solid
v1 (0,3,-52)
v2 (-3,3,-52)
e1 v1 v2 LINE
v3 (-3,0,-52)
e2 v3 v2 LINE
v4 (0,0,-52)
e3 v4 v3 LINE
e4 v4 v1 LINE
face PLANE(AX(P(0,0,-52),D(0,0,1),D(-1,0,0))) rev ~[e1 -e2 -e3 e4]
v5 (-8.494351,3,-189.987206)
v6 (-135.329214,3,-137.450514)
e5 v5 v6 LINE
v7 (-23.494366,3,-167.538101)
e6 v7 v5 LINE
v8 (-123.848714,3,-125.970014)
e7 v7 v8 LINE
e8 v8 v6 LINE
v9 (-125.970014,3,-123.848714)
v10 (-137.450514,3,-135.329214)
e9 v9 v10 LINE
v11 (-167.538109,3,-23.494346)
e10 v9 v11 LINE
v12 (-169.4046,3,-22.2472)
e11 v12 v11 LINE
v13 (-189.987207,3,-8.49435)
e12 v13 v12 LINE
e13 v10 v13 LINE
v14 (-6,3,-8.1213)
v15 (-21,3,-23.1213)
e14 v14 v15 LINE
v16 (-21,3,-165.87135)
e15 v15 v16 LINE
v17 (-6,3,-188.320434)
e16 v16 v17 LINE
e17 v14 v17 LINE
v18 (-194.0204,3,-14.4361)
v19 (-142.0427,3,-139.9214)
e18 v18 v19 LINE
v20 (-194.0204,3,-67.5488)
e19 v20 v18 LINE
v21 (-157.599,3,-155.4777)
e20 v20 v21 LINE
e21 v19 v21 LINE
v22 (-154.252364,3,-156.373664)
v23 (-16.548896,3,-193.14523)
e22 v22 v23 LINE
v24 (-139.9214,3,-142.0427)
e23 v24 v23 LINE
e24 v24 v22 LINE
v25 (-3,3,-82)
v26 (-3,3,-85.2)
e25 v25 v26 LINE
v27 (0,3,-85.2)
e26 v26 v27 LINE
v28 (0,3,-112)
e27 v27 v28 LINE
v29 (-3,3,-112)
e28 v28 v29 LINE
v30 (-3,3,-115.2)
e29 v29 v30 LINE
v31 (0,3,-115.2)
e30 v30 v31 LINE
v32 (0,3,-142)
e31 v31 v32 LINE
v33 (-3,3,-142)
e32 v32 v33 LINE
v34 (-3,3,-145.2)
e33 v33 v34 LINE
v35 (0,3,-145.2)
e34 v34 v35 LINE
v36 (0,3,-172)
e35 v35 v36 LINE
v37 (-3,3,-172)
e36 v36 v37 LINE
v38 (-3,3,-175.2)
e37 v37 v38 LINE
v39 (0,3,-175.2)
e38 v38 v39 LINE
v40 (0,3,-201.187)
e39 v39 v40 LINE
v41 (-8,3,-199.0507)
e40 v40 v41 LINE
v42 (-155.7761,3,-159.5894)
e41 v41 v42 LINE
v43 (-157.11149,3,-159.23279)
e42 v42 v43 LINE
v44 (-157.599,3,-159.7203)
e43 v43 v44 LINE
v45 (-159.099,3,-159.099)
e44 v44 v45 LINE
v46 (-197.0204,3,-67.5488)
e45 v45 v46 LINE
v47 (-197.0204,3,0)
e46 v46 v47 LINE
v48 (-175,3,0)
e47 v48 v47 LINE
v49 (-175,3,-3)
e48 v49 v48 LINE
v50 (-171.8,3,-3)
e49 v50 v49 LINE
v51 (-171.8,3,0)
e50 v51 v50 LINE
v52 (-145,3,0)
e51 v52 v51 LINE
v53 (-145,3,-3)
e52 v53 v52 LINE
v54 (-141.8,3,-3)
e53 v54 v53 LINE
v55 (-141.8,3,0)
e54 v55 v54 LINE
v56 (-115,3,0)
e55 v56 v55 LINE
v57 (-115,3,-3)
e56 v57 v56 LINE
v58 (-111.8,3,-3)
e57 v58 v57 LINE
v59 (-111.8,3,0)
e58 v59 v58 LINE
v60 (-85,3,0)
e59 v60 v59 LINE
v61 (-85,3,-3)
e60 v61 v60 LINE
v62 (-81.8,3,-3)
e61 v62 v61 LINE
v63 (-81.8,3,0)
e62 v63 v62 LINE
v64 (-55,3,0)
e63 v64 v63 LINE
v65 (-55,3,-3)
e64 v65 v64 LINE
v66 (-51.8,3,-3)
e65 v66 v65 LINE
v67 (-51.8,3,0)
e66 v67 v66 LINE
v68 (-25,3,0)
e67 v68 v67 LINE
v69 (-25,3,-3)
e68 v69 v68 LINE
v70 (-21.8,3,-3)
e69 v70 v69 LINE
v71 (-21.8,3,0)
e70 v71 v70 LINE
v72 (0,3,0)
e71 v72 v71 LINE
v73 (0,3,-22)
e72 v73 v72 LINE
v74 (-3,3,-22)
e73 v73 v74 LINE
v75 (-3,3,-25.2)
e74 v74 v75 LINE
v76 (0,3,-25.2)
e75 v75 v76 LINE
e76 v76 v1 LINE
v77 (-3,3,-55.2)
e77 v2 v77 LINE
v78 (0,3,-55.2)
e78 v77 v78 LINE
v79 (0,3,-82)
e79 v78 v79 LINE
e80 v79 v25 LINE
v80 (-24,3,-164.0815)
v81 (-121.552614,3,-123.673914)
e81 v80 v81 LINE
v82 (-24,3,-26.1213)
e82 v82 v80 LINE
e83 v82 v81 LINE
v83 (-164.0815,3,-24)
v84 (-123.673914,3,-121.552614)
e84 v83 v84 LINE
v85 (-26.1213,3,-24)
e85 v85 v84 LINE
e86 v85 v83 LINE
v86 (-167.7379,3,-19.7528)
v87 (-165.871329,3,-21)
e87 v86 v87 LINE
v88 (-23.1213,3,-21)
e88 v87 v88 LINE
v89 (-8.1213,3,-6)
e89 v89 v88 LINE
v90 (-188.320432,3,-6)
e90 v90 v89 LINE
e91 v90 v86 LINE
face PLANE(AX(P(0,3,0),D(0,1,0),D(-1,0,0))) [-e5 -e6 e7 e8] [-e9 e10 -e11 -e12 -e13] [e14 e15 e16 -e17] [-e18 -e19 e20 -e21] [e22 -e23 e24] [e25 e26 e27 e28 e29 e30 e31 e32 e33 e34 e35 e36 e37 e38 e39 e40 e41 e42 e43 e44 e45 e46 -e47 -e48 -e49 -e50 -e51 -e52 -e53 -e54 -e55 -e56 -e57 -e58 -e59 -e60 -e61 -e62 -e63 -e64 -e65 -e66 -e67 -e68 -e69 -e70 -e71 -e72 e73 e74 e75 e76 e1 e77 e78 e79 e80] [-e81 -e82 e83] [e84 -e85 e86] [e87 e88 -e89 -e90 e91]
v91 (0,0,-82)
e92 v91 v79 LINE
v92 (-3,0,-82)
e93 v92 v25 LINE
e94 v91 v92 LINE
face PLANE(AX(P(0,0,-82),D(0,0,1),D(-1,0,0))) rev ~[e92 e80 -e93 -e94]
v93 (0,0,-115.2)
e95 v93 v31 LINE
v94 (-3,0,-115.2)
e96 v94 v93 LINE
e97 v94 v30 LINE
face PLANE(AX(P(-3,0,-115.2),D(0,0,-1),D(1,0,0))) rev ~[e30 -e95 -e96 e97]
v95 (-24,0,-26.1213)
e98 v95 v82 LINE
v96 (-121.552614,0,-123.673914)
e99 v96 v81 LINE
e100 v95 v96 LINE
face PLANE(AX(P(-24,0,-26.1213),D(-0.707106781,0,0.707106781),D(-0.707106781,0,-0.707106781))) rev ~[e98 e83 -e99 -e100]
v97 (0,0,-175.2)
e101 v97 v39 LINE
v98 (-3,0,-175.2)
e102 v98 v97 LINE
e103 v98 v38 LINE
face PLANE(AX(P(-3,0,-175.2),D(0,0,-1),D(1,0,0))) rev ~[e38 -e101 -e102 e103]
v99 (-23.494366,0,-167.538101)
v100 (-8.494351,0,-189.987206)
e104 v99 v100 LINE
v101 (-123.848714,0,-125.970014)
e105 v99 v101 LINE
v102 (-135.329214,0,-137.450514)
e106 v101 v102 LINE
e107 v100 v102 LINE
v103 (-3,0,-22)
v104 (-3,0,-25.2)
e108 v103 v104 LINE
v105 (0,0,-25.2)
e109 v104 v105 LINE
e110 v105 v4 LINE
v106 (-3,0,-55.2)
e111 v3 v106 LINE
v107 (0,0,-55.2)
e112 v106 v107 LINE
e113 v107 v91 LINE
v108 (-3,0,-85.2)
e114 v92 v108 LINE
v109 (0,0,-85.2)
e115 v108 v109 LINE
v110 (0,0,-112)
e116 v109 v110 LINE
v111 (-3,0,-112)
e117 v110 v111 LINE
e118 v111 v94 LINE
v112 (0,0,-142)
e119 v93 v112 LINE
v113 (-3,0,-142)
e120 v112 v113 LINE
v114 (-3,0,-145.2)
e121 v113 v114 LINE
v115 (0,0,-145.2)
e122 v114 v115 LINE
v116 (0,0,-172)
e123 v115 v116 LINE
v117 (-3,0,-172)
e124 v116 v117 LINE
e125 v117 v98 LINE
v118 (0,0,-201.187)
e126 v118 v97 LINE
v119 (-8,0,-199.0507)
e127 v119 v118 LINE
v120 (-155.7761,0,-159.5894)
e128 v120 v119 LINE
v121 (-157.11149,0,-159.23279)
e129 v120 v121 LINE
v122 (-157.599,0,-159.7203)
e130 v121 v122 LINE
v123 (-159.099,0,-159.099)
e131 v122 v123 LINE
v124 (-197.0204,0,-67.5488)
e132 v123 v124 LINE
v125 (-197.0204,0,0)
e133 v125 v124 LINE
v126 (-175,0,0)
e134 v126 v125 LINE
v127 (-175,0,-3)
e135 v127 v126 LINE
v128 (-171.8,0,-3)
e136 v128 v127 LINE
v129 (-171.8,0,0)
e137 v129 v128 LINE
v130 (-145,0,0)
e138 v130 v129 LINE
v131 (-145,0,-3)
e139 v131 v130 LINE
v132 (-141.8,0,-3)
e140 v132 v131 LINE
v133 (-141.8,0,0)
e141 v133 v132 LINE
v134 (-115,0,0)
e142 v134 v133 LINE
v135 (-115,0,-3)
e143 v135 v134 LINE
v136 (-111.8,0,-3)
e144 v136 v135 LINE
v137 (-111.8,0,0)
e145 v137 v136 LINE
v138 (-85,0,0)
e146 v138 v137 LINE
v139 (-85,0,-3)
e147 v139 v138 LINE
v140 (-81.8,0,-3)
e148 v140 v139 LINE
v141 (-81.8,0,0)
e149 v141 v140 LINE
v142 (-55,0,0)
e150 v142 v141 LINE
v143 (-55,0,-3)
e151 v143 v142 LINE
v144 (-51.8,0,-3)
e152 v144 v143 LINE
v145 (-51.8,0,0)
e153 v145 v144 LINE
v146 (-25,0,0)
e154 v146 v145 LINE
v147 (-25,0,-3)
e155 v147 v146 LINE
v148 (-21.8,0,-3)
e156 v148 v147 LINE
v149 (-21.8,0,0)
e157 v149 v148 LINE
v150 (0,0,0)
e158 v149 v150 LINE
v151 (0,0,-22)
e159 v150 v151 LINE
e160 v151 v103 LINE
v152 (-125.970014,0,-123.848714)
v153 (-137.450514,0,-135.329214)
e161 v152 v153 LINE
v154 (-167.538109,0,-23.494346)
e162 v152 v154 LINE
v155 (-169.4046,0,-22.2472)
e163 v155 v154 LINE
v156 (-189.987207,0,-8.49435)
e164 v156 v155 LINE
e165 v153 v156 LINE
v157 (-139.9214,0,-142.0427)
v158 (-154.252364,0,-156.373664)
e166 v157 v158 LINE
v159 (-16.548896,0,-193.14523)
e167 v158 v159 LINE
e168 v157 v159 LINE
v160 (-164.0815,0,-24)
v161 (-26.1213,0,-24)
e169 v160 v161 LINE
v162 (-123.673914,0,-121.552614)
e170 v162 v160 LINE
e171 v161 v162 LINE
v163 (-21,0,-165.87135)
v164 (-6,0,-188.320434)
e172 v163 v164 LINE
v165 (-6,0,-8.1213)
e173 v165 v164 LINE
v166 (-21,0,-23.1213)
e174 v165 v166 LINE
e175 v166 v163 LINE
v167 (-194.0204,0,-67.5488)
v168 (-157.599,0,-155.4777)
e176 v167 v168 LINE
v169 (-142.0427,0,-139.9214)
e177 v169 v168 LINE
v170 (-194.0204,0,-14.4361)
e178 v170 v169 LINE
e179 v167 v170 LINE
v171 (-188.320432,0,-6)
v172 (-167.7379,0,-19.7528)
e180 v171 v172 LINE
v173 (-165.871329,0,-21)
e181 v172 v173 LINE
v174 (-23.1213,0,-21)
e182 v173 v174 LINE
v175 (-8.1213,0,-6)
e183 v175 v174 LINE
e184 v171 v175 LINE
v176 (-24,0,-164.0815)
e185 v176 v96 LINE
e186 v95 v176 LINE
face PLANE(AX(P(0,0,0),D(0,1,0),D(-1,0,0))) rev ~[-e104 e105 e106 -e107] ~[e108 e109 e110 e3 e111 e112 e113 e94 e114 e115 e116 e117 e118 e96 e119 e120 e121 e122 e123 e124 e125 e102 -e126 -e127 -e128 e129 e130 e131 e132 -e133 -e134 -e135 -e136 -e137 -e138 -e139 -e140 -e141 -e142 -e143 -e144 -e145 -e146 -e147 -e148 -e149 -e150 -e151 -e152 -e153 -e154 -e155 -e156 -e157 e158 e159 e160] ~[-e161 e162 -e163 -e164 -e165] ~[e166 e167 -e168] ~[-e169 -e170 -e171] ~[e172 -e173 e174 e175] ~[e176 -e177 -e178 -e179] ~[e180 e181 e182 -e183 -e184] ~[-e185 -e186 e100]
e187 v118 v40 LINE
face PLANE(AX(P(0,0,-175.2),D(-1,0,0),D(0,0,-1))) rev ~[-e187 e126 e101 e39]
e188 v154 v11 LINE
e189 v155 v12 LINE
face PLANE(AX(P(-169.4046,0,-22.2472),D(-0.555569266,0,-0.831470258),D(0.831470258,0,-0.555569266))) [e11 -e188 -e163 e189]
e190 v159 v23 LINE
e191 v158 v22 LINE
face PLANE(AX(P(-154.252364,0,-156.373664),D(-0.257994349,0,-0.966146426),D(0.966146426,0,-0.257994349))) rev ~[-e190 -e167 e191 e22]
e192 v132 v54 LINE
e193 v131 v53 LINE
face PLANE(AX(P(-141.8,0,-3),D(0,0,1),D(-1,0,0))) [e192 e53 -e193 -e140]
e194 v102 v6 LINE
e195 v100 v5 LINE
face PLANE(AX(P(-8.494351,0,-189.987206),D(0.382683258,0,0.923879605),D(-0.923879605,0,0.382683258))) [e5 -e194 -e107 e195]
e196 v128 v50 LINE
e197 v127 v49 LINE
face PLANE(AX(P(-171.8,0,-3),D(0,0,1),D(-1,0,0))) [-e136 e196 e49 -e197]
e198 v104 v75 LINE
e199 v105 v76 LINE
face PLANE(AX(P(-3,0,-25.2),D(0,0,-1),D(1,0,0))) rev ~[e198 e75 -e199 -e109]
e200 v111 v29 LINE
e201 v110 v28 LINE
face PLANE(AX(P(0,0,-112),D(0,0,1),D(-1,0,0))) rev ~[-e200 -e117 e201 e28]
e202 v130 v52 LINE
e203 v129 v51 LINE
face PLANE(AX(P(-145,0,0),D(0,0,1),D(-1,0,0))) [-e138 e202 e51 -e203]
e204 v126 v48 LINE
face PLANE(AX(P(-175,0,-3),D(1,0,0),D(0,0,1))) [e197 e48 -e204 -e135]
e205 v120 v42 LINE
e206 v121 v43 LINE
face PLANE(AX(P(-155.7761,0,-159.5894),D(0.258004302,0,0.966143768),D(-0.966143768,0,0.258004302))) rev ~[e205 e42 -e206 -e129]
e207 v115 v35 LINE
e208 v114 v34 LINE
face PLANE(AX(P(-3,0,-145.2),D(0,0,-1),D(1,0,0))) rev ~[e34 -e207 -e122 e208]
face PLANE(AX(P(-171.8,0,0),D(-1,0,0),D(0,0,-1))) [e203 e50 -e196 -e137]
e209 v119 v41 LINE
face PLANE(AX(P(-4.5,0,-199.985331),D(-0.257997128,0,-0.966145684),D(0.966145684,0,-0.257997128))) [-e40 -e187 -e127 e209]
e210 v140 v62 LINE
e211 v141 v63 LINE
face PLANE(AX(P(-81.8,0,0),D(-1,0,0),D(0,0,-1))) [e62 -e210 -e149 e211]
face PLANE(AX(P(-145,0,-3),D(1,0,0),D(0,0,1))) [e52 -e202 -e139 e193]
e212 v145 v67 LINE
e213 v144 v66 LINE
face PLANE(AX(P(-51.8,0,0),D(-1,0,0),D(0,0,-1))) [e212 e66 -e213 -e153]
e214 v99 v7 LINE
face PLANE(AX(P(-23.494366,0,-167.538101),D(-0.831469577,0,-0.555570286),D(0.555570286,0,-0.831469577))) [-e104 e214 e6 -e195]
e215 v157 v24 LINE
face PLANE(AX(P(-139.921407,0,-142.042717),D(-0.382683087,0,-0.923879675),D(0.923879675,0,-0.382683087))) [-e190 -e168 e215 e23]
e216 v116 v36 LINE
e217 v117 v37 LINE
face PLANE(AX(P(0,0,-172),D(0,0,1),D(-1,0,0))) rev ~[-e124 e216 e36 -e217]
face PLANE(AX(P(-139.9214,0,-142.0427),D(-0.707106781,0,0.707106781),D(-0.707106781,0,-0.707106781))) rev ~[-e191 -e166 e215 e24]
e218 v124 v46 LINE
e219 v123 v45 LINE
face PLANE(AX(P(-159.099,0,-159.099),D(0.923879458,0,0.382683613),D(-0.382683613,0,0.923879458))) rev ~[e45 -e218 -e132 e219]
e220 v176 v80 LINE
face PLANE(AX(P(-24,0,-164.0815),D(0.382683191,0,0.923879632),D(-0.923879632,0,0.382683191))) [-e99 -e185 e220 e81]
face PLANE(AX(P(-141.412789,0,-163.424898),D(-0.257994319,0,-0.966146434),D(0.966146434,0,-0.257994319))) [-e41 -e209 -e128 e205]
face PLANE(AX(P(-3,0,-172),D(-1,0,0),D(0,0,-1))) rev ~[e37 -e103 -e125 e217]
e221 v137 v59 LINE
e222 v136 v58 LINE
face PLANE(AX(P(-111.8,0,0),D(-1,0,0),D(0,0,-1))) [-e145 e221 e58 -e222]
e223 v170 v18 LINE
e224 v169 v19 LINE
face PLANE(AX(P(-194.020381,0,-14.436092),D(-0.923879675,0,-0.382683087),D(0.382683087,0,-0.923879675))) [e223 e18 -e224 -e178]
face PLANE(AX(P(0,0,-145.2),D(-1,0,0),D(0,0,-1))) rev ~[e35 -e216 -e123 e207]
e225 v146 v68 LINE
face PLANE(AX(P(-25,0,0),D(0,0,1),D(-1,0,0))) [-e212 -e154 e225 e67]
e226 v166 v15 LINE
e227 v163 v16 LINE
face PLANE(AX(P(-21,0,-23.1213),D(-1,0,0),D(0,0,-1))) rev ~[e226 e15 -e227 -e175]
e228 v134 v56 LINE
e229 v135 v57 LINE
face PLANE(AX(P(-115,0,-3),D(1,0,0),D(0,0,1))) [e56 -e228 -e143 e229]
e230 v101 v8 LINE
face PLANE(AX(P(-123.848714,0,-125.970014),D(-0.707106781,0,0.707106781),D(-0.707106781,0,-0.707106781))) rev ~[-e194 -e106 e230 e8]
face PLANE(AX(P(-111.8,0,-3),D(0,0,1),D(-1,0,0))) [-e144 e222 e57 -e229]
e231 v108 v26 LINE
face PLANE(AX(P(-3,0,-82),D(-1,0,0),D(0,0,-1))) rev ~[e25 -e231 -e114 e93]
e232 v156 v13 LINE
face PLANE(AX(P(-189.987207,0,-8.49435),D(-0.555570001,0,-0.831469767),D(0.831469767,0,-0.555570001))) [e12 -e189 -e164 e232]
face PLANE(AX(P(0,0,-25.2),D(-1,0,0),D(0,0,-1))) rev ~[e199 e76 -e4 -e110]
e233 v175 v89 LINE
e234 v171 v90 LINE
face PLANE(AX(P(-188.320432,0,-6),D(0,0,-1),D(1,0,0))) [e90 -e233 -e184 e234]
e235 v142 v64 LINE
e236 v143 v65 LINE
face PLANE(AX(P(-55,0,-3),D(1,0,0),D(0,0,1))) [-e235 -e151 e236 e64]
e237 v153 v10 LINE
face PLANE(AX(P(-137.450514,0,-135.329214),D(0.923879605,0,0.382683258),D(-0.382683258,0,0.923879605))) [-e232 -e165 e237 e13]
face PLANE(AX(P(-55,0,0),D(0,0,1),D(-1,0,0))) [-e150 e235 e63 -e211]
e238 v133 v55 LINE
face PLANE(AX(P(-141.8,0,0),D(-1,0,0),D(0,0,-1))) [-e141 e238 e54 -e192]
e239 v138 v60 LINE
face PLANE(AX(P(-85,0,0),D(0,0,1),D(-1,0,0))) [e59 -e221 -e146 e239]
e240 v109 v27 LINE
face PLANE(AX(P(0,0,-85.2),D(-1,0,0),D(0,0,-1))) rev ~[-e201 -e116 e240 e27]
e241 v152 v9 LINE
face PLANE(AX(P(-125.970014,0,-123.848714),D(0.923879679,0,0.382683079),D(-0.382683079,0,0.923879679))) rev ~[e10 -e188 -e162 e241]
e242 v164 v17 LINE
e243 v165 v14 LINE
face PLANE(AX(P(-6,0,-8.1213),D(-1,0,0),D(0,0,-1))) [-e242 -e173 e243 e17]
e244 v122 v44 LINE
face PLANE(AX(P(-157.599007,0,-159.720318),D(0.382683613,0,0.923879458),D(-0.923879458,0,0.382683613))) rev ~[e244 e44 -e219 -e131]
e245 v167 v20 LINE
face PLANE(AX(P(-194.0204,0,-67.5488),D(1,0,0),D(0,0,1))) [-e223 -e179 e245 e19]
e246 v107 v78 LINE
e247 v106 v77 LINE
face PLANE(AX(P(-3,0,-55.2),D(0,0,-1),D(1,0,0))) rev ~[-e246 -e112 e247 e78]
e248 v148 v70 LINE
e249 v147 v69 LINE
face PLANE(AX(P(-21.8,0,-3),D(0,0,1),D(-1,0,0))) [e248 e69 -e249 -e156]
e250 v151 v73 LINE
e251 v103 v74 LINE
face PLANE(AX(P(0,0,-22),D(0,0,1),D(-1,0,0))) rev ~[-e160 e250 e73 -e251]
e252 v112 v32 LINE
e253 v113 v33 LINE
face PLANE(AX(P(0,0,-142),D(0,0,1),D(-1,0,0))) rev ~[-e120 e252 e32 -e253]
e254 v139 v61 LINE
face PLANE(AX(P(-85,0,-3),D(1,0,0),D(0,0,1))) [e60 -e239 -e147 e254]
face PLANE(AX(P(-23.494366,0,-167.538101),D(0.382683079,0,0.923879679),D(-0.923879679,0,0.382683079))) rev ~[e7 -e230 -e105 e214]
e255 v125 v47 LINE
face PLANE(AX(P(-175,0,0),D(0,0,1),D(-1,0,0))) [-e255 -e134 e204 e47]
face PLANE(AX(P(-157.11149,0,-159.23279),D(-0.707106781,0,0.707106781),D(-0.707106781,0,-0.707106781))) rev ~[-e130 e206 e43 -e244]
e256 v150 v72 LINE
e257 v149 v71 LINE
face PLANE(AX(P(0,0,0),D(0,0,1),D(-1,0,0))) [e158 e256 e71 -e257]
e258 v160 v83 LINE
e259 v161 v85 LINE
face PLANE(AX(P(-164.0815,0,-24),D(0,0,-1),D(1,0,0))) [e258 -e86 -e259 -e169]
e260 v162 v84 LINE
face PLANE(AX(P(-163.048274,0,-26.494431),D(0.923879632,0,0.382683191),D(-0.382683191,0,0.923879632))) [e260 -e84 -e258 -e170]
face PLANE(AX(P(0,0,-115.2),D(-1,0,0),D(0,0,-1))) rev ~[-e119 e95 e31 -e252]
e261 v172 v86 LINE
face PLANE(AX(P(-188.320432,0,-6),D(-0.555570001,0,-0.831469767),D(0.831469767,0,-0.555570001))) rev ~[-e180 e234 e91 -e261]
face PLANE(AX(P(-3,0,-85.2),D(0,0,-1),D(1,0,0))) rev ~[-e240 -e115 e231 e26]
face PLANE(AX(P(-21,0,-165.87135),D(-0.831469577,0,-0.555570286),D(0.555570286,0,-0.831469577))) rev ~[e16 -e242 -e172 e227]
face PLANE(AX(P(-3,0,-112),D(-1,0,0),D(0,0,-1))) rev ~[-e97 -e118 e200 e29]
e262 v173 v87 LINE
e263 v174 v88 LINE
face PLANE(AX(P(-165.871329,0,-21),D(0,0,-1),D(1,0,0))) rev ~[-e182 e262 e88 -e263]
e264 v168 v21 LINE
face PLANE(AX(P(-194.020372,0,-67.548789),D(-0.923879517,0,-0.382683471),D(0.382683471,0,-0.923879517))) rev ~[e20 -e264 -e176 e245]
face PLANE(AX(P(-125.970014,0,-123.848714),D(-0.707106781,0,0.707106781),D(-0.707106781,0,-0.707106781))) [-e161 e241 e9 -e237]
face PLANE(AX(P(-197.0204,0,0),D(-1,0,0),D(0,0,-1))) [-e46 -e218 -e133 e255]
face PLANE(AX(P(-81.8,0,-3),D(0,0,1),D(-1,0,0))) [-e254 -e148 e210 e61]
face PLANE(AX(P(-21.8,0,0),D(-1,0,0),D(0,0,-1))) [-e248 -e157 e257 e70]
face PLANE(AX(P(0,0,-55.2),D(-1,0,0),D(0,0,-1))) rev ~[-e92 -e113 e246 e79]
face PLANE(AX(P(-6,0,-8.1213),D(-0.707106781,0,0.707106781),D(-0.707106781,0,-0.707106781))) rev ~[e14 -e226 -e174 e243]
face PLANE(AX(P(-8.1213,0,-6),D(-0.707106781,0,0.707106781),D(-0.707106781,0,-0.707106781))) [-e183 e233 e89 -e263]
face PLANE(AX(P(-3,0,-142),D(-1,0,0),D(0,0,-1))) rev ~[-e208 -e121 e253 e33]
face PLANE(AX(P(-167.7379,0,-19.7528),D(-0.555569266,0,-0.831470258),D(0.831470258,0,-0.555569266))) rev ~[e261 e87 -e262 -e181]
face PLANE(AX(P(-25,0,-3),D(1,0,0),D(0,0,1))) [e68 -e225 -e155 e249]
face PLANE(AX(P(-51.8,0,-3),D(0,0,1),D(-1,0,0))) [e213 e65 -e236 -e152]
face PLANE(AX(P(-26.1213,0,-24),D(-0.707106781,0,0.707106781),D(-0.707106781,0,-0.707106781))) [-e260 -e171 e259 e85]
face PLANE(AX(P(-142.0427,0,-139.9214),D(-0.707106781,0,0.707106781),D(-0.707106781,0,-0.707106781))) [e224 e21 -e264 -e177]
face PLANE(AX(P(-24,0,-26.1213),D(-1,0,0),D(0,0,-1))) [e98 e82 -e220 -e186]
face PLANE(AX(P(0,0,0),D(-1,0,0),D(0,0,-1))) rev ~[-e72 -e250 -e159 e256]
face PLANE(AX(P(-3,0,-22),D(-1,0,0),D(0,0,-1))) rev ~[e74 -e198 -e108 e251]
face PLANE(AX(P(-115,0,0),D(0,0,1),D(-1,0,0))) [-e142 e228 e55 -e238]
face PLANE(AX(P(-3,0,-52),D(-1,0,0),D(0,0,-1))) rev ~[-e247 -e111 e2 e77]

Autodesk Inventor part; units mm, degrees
ref_plane "YZ Plane" through (0, 0, 0) normal (1, 0, 0) x (0, 1, 0)
ref_plane "XZ Plane" through (0, 0, 0) normal (0, 1, 0) x (-1, 0, 0)
ref_plane "XY Plane" through (0, 0, 0) normal (0, 0, 1) x (1, 0, 0)
sketch "草圖1" plane through (0, 0, 0) normal (0, 1, 0) x (-1, 0, 0)
  line L0 (0, 0) -> (0, -200)
  line L1 (0, 0) -> (200, 0)
  line L2 (0, 0) -> (141.4214, -141.4214)
  line L3 (200, 0) -> (141.4214, -141.4214)
  line L4 (141.4214, -141.4214) -> (0, -200)
  line L5 (191.0204, -6) -> (6, -6)
  line L6 (6, -6) -> (6, -191.0204)
  line L7 (6, -191.0204) -> (136.8292, -136.8292)
  line L8 (136.8292, -136.8292) -> (191.0204, -6)
  line L9 (2.1213, 0) -> (142.0427, -139.9214)
  line L10 (0, -2.1213) -> (139.9214, -142.0427)
  line L11 (168.5713, -21) -> (21, -21)
  line L12 (21, -21) -> (21, -168.5713)
  line L13 (21, -168.5713) -> (125.3487, -125.3487)
  line L14 (125.3487, -125.3487) -> (168.5713, -21)
  line L15 (164.0815, -24) -> (24, -24)
  line L16 (24, -24) -> (24, -164.0815)
  line L17 (24, -164.0815) -> (123.0526, -123.0526)
  line L18 (123.0526, -123.0526) -> (164.0815, -24)
  line L19 (191.0204, -6) -> (168.5713, -21)
  line L20 (191.8537, -7.2472) -> (169.4046, -22.2472)
  line L21 (190.187, -4.7528) -> (167.7379, -19.7528)
  line L22 (167.7379, -19.7528) -> (161.3815, -24)
  line L23 (169.4046, -22.2472) -> (163.0482, -26.4944)
  line L24 (24, -164.0815) -> (6, -191.0204)
  line L25 (25.2472, -164.9148) -> (7.2472, -191.8537)
  line L26 (22.7528, -163.2481) -> (4.7528, -190.187)
  line L27 (175, 0) -> (171.8, 0)
  line L28 (171.8, 0) -> (171.8, -3)
  line L29 (171.8, -3) -> (175, -3)
  line L30 (175, -3) -> (175, 0)
  line L31 (141.8, -3) -> (145, -3)
  line L32 (141.8, 0) -> (141.8, -3)
  line L33 (145, -3) -> (145, 0)
  line L34 (111.8, -3) -> (115, -3)
  line L35 (111.8, 0) -> (111.8, -3)
  line L36 (115, -3) -> (115, 0)
  line L37 (81.8, -3) -> (85, -3)
  line L38 (81.8, 0) -> (81.8, -3)
  line L39 (85, -3) -> (85, 0)
  line L40 (51.8, -3) -> (55, -3)
  line L41 (51.8, 0) -> (51.8, -3)
  line L42 (55, -3) -> (55, 0)
  line L43 (21.8, -3) -> (25, -3)
  line L44 (21.8, 0) -> (21.8, -3)
  line L45 (25, -3) -> (25, 0)
  line L46 (0, -200) -> (0, -222)
  line L47 (0, -222) -> (156.9777, -156.9777)
  line L48 (200, 0) -> (222, 0)
  line L49 (141.4214, -141.4214) -> (156.9777, -156.9777)
  line L50 (222, 0) -> (156.9777, -156.9777)
  line L51 (197.0204, 0) -> (197.0204, -60.3062)
  line L52 (0, -222) -> (0, -225)
  line L53 (0, -225) -> (159.099, -159.099)
  line L54 (156.9777, -156.9777) -> (159.099, -159.099)
  line L55 (159.099, -159.099) -> (225, 0)
  line L56 (222, 0) -> (225, 0)
  line L57 (197.0204, -60.3062) -> (197.0204, -67.5488)
  line L58 (0, -200) -> (0, -222)
  line L59 (6, -197.5147) -> (6, -219.5147)
  line L60 (194.0204, -67.5488) -> (194.0204, -14.4361)
  line L61 (142.0427, -139.9214) -> (157.599, -155.4777)
  line L62 (139.9214, -142.0427) -> (157.599, -159.7203)
  line L63 (0, -22) -> (3, -22)
  line L64 (3, -22) -> (3, -25.2)
  line L65 (3, -25.2) -> (0, -25.2)
  line L66 (0, -25.2) -> (0, -22)
  line L67 (3, -52) -> (3, -55.2)
  line L68 (0, -52) -> (3, -52)
  line L69 (3, -55.2) -> (0, -55.2)
  line L70 (3, -82) -> (3, -85.2)
  line L71 (0, -82) -> (3, -82)
  line L72 (3, -85.2) -> (0, -85.2)
  line L73 (3, -112) -> (3, -115.2)
  line L74 (0, -112) -> (3, -112)
  line L75 (3, -115.2) -> (0, -115.2)
  line L76 (3, -142) -> (3, -145.2)
  line L77 (0, -142) -> (3, -142)
  line L78 (3, -145.2) -> (0, -145.2)
  line L79 (3, -172) -> (3, -175.2)
  line L80 (0, -172) -> (3, -172)
  line L81 (3, -175.2) -> (0, -175.2)
  line L82 (155.4777, -157.599) -> (6, -197.5147)
  line L83 (155.7761, -159.5894) -> (8, -199.0507)
  line L84 (8, -199.0507) -> (8, -219.5147)
  line L85 (155.0907, -156.1498) -> (4.5, -196.3627)
  line L86 (4.5, -196.3627) -> (4.5, -219.5147)
  line L87 (155.7761, -159.5894) -> (158.7857, -158.7857)
  line L88 (8, -199.0507) -> (0, -201.187)
  point P0 (8.1213, -6)
  point P1 (137.4505, -135.3292)
  point P2 (135.3292, -137.4505)
  point P3 (6, -8.1213)
  point P4 (121.5526, -123.6739)
  point P5 (24, -26.1213)
  point P6 (21, -23.1213)
  point P7 (123.8487, -125.97)
  point P8 (123.6739, -121.5526)
  point P9 (125.97, -123.8487)
  point P10 (23.1213, -21)
  point P11 (26.1213, -24)
  point P12 (21, -165.8714)
  point P13 (6, -188.3204)
  point P14 (8.4944, -189.9871)
  point P15 (23.4944, -167.5381)
  point P16 (188.3204, -6)
  point P17 (165.8714, -21)
  point P18 (167.5381, -23.4944)
  point P19 (189.9871, -8.4944)
  point P20 (171.8, 0)
  point P21 (141.8, 0)
  point P22 (111.8, 0)
  point P23 (81.8, 0)
  point P24 (51.8, 0)
  point P25 (21.8, 0)
  point P26 (156.9777, -156.9777)
  point P27 (197.0204, -7.1935)
  point P28 (157.5991, -156.7203)
  point P29 (0, -25.2)
  point P30 (0, -55.2)
  point P31 (0, -85.2)
  point P32 (0, -115.2)
  point P33 (0, -145.2)
  point P34 (0, -175.2)
  point P35 (154.2524, -156.3737)
  point P36 (16.5488, -193.1453)
  point P37 (157.1115, -159.2328)
  point P38 (0, -201.187)
  dimension "d0" = 200
  dimension "d1" = 200
  dimension "d2" = 45
  dimension "d3" = 67.5
  dimension "d4" = 6
  dimension "d5" = 1.5
  dimension "d6" = 1.5
  dimension "d9" = 15
  dimension "d10" = 3
  dimension "d11" = 1.5
  dimension "d12" = 1.5
  dimension "d13" = 1.5
  dimension "d14" = 1.5
  dimension "d15" = 3
  dimension "d16" = 3.2
  dimension "d17" = 25
  dimension "d20" = 30
  dimension "d27" = 22
  dimension "d28" = 22
  dimension "d29" = 6
  dimension "d30" = 3
  dimension "d31" = 3
  dimension "d32" = 6
  dimension "d34" = 3
  dimension "d35" = 3
  dimension "d36" = 3.2
  dimension "d37" = 22
  dimension "d40" = 30
  dimension "d49" = 2
  dimension "d50" = 1.5
extrude "擠出1" add sketch "草圖1" along normal blind 3 contours L2 L6 L10 L0 | L1 L9 L5 L2 | L10 L6 L7 L4 L85 L86 L0 L81 L79 L80 L78 L76 L77 L75 L73 L74 L72 L70 L71 L69 L67 L68 L65 L64 L63 | L1 L44 L43 L45 L41 L40 L42 L38 L37 L39 L35 L34 L36 L32 L31 L33 L28 L29 L30 L51 L3 L9 L8 L5 | L5 L9 L11 L2 | L2 L12 L10 L6 | L11 L9 L15 L2 | L2 L16 L10 L12 | L26 L12 L24 L6 | L10 L16 L24 L12 | L5 L19 L11 L22 L21 | L11 L22 L15 L9 | L15 L9 L18 L2 | L2 L17 L10 L16 | L24 L13 L25 L7 | L8 L20 L23 L14 L19 | L11 L14 L23 L18 L15 L22 | L18 L9 L14 L2 | L2 L13 L10 L17 | L24 L17 L10 L13 | L18 L23 L14 L9 | L14 L9 L8 L2 | L2 L7 L10 L13 | L7 L2 L4 L10 | L9 L3 L2 L8 | L4 L49 L47 L62 | L61 L50 L49 L3 | L85 L62 L82 L4 | L4 L86 L85 | L3 L51 L50 L60 | L50 L57 L55 L54 | L54 L87 L62 L47 | L59 L88 L86 L4 | L82 L47 L83 L88 L59 | L62 L87 L83 L47 | L54 L53 L62 L87 | L86 L88 L46 L4
sketch "草圖2" plane through (-3, 0, -25.2) normal (0, 0, 1) x (1, 0, 0)
  line L0 (0, 0) -> (0, 3) projected
  line L1 (-154.599, 3) -> (-156.099, 3) projected
  line L2 (0, 0) -> (-3, 0)
  line L3 (-3, 0) -> (-3, 3)
  line L4 (-3, 3) -> (0, 3)
  line L5 (0, 3) -> (0, 0)
  circle A0 centre (-1.5, 1.5) radius 2.1213
  point P0 (3, 0)
  point P1 (3, 3)
  dimension "d45" = 3
  dimension "d46" = 4.2426
sketch "草圖3" plane through (-21.8, 0, -3) normal (-1, 0, 0) x (0, 0, 1)
  line L0 (0, 3) -> (-3, 3)
  line L1 (-3, 3) -> (-3, 0)
  line L2 (-3, 0) -> (0, 0)
  line L3 (0, 0) -> (0, 3)
  circle A0 centre (-1.5, 1.5) radius 2.1213
  point P0 (3, 0)
  dimension "d47" = 4.2426
  dimension "d48" = 1.5
properties part number "side_sail" material "MDF Medium Density Fiberboard"
